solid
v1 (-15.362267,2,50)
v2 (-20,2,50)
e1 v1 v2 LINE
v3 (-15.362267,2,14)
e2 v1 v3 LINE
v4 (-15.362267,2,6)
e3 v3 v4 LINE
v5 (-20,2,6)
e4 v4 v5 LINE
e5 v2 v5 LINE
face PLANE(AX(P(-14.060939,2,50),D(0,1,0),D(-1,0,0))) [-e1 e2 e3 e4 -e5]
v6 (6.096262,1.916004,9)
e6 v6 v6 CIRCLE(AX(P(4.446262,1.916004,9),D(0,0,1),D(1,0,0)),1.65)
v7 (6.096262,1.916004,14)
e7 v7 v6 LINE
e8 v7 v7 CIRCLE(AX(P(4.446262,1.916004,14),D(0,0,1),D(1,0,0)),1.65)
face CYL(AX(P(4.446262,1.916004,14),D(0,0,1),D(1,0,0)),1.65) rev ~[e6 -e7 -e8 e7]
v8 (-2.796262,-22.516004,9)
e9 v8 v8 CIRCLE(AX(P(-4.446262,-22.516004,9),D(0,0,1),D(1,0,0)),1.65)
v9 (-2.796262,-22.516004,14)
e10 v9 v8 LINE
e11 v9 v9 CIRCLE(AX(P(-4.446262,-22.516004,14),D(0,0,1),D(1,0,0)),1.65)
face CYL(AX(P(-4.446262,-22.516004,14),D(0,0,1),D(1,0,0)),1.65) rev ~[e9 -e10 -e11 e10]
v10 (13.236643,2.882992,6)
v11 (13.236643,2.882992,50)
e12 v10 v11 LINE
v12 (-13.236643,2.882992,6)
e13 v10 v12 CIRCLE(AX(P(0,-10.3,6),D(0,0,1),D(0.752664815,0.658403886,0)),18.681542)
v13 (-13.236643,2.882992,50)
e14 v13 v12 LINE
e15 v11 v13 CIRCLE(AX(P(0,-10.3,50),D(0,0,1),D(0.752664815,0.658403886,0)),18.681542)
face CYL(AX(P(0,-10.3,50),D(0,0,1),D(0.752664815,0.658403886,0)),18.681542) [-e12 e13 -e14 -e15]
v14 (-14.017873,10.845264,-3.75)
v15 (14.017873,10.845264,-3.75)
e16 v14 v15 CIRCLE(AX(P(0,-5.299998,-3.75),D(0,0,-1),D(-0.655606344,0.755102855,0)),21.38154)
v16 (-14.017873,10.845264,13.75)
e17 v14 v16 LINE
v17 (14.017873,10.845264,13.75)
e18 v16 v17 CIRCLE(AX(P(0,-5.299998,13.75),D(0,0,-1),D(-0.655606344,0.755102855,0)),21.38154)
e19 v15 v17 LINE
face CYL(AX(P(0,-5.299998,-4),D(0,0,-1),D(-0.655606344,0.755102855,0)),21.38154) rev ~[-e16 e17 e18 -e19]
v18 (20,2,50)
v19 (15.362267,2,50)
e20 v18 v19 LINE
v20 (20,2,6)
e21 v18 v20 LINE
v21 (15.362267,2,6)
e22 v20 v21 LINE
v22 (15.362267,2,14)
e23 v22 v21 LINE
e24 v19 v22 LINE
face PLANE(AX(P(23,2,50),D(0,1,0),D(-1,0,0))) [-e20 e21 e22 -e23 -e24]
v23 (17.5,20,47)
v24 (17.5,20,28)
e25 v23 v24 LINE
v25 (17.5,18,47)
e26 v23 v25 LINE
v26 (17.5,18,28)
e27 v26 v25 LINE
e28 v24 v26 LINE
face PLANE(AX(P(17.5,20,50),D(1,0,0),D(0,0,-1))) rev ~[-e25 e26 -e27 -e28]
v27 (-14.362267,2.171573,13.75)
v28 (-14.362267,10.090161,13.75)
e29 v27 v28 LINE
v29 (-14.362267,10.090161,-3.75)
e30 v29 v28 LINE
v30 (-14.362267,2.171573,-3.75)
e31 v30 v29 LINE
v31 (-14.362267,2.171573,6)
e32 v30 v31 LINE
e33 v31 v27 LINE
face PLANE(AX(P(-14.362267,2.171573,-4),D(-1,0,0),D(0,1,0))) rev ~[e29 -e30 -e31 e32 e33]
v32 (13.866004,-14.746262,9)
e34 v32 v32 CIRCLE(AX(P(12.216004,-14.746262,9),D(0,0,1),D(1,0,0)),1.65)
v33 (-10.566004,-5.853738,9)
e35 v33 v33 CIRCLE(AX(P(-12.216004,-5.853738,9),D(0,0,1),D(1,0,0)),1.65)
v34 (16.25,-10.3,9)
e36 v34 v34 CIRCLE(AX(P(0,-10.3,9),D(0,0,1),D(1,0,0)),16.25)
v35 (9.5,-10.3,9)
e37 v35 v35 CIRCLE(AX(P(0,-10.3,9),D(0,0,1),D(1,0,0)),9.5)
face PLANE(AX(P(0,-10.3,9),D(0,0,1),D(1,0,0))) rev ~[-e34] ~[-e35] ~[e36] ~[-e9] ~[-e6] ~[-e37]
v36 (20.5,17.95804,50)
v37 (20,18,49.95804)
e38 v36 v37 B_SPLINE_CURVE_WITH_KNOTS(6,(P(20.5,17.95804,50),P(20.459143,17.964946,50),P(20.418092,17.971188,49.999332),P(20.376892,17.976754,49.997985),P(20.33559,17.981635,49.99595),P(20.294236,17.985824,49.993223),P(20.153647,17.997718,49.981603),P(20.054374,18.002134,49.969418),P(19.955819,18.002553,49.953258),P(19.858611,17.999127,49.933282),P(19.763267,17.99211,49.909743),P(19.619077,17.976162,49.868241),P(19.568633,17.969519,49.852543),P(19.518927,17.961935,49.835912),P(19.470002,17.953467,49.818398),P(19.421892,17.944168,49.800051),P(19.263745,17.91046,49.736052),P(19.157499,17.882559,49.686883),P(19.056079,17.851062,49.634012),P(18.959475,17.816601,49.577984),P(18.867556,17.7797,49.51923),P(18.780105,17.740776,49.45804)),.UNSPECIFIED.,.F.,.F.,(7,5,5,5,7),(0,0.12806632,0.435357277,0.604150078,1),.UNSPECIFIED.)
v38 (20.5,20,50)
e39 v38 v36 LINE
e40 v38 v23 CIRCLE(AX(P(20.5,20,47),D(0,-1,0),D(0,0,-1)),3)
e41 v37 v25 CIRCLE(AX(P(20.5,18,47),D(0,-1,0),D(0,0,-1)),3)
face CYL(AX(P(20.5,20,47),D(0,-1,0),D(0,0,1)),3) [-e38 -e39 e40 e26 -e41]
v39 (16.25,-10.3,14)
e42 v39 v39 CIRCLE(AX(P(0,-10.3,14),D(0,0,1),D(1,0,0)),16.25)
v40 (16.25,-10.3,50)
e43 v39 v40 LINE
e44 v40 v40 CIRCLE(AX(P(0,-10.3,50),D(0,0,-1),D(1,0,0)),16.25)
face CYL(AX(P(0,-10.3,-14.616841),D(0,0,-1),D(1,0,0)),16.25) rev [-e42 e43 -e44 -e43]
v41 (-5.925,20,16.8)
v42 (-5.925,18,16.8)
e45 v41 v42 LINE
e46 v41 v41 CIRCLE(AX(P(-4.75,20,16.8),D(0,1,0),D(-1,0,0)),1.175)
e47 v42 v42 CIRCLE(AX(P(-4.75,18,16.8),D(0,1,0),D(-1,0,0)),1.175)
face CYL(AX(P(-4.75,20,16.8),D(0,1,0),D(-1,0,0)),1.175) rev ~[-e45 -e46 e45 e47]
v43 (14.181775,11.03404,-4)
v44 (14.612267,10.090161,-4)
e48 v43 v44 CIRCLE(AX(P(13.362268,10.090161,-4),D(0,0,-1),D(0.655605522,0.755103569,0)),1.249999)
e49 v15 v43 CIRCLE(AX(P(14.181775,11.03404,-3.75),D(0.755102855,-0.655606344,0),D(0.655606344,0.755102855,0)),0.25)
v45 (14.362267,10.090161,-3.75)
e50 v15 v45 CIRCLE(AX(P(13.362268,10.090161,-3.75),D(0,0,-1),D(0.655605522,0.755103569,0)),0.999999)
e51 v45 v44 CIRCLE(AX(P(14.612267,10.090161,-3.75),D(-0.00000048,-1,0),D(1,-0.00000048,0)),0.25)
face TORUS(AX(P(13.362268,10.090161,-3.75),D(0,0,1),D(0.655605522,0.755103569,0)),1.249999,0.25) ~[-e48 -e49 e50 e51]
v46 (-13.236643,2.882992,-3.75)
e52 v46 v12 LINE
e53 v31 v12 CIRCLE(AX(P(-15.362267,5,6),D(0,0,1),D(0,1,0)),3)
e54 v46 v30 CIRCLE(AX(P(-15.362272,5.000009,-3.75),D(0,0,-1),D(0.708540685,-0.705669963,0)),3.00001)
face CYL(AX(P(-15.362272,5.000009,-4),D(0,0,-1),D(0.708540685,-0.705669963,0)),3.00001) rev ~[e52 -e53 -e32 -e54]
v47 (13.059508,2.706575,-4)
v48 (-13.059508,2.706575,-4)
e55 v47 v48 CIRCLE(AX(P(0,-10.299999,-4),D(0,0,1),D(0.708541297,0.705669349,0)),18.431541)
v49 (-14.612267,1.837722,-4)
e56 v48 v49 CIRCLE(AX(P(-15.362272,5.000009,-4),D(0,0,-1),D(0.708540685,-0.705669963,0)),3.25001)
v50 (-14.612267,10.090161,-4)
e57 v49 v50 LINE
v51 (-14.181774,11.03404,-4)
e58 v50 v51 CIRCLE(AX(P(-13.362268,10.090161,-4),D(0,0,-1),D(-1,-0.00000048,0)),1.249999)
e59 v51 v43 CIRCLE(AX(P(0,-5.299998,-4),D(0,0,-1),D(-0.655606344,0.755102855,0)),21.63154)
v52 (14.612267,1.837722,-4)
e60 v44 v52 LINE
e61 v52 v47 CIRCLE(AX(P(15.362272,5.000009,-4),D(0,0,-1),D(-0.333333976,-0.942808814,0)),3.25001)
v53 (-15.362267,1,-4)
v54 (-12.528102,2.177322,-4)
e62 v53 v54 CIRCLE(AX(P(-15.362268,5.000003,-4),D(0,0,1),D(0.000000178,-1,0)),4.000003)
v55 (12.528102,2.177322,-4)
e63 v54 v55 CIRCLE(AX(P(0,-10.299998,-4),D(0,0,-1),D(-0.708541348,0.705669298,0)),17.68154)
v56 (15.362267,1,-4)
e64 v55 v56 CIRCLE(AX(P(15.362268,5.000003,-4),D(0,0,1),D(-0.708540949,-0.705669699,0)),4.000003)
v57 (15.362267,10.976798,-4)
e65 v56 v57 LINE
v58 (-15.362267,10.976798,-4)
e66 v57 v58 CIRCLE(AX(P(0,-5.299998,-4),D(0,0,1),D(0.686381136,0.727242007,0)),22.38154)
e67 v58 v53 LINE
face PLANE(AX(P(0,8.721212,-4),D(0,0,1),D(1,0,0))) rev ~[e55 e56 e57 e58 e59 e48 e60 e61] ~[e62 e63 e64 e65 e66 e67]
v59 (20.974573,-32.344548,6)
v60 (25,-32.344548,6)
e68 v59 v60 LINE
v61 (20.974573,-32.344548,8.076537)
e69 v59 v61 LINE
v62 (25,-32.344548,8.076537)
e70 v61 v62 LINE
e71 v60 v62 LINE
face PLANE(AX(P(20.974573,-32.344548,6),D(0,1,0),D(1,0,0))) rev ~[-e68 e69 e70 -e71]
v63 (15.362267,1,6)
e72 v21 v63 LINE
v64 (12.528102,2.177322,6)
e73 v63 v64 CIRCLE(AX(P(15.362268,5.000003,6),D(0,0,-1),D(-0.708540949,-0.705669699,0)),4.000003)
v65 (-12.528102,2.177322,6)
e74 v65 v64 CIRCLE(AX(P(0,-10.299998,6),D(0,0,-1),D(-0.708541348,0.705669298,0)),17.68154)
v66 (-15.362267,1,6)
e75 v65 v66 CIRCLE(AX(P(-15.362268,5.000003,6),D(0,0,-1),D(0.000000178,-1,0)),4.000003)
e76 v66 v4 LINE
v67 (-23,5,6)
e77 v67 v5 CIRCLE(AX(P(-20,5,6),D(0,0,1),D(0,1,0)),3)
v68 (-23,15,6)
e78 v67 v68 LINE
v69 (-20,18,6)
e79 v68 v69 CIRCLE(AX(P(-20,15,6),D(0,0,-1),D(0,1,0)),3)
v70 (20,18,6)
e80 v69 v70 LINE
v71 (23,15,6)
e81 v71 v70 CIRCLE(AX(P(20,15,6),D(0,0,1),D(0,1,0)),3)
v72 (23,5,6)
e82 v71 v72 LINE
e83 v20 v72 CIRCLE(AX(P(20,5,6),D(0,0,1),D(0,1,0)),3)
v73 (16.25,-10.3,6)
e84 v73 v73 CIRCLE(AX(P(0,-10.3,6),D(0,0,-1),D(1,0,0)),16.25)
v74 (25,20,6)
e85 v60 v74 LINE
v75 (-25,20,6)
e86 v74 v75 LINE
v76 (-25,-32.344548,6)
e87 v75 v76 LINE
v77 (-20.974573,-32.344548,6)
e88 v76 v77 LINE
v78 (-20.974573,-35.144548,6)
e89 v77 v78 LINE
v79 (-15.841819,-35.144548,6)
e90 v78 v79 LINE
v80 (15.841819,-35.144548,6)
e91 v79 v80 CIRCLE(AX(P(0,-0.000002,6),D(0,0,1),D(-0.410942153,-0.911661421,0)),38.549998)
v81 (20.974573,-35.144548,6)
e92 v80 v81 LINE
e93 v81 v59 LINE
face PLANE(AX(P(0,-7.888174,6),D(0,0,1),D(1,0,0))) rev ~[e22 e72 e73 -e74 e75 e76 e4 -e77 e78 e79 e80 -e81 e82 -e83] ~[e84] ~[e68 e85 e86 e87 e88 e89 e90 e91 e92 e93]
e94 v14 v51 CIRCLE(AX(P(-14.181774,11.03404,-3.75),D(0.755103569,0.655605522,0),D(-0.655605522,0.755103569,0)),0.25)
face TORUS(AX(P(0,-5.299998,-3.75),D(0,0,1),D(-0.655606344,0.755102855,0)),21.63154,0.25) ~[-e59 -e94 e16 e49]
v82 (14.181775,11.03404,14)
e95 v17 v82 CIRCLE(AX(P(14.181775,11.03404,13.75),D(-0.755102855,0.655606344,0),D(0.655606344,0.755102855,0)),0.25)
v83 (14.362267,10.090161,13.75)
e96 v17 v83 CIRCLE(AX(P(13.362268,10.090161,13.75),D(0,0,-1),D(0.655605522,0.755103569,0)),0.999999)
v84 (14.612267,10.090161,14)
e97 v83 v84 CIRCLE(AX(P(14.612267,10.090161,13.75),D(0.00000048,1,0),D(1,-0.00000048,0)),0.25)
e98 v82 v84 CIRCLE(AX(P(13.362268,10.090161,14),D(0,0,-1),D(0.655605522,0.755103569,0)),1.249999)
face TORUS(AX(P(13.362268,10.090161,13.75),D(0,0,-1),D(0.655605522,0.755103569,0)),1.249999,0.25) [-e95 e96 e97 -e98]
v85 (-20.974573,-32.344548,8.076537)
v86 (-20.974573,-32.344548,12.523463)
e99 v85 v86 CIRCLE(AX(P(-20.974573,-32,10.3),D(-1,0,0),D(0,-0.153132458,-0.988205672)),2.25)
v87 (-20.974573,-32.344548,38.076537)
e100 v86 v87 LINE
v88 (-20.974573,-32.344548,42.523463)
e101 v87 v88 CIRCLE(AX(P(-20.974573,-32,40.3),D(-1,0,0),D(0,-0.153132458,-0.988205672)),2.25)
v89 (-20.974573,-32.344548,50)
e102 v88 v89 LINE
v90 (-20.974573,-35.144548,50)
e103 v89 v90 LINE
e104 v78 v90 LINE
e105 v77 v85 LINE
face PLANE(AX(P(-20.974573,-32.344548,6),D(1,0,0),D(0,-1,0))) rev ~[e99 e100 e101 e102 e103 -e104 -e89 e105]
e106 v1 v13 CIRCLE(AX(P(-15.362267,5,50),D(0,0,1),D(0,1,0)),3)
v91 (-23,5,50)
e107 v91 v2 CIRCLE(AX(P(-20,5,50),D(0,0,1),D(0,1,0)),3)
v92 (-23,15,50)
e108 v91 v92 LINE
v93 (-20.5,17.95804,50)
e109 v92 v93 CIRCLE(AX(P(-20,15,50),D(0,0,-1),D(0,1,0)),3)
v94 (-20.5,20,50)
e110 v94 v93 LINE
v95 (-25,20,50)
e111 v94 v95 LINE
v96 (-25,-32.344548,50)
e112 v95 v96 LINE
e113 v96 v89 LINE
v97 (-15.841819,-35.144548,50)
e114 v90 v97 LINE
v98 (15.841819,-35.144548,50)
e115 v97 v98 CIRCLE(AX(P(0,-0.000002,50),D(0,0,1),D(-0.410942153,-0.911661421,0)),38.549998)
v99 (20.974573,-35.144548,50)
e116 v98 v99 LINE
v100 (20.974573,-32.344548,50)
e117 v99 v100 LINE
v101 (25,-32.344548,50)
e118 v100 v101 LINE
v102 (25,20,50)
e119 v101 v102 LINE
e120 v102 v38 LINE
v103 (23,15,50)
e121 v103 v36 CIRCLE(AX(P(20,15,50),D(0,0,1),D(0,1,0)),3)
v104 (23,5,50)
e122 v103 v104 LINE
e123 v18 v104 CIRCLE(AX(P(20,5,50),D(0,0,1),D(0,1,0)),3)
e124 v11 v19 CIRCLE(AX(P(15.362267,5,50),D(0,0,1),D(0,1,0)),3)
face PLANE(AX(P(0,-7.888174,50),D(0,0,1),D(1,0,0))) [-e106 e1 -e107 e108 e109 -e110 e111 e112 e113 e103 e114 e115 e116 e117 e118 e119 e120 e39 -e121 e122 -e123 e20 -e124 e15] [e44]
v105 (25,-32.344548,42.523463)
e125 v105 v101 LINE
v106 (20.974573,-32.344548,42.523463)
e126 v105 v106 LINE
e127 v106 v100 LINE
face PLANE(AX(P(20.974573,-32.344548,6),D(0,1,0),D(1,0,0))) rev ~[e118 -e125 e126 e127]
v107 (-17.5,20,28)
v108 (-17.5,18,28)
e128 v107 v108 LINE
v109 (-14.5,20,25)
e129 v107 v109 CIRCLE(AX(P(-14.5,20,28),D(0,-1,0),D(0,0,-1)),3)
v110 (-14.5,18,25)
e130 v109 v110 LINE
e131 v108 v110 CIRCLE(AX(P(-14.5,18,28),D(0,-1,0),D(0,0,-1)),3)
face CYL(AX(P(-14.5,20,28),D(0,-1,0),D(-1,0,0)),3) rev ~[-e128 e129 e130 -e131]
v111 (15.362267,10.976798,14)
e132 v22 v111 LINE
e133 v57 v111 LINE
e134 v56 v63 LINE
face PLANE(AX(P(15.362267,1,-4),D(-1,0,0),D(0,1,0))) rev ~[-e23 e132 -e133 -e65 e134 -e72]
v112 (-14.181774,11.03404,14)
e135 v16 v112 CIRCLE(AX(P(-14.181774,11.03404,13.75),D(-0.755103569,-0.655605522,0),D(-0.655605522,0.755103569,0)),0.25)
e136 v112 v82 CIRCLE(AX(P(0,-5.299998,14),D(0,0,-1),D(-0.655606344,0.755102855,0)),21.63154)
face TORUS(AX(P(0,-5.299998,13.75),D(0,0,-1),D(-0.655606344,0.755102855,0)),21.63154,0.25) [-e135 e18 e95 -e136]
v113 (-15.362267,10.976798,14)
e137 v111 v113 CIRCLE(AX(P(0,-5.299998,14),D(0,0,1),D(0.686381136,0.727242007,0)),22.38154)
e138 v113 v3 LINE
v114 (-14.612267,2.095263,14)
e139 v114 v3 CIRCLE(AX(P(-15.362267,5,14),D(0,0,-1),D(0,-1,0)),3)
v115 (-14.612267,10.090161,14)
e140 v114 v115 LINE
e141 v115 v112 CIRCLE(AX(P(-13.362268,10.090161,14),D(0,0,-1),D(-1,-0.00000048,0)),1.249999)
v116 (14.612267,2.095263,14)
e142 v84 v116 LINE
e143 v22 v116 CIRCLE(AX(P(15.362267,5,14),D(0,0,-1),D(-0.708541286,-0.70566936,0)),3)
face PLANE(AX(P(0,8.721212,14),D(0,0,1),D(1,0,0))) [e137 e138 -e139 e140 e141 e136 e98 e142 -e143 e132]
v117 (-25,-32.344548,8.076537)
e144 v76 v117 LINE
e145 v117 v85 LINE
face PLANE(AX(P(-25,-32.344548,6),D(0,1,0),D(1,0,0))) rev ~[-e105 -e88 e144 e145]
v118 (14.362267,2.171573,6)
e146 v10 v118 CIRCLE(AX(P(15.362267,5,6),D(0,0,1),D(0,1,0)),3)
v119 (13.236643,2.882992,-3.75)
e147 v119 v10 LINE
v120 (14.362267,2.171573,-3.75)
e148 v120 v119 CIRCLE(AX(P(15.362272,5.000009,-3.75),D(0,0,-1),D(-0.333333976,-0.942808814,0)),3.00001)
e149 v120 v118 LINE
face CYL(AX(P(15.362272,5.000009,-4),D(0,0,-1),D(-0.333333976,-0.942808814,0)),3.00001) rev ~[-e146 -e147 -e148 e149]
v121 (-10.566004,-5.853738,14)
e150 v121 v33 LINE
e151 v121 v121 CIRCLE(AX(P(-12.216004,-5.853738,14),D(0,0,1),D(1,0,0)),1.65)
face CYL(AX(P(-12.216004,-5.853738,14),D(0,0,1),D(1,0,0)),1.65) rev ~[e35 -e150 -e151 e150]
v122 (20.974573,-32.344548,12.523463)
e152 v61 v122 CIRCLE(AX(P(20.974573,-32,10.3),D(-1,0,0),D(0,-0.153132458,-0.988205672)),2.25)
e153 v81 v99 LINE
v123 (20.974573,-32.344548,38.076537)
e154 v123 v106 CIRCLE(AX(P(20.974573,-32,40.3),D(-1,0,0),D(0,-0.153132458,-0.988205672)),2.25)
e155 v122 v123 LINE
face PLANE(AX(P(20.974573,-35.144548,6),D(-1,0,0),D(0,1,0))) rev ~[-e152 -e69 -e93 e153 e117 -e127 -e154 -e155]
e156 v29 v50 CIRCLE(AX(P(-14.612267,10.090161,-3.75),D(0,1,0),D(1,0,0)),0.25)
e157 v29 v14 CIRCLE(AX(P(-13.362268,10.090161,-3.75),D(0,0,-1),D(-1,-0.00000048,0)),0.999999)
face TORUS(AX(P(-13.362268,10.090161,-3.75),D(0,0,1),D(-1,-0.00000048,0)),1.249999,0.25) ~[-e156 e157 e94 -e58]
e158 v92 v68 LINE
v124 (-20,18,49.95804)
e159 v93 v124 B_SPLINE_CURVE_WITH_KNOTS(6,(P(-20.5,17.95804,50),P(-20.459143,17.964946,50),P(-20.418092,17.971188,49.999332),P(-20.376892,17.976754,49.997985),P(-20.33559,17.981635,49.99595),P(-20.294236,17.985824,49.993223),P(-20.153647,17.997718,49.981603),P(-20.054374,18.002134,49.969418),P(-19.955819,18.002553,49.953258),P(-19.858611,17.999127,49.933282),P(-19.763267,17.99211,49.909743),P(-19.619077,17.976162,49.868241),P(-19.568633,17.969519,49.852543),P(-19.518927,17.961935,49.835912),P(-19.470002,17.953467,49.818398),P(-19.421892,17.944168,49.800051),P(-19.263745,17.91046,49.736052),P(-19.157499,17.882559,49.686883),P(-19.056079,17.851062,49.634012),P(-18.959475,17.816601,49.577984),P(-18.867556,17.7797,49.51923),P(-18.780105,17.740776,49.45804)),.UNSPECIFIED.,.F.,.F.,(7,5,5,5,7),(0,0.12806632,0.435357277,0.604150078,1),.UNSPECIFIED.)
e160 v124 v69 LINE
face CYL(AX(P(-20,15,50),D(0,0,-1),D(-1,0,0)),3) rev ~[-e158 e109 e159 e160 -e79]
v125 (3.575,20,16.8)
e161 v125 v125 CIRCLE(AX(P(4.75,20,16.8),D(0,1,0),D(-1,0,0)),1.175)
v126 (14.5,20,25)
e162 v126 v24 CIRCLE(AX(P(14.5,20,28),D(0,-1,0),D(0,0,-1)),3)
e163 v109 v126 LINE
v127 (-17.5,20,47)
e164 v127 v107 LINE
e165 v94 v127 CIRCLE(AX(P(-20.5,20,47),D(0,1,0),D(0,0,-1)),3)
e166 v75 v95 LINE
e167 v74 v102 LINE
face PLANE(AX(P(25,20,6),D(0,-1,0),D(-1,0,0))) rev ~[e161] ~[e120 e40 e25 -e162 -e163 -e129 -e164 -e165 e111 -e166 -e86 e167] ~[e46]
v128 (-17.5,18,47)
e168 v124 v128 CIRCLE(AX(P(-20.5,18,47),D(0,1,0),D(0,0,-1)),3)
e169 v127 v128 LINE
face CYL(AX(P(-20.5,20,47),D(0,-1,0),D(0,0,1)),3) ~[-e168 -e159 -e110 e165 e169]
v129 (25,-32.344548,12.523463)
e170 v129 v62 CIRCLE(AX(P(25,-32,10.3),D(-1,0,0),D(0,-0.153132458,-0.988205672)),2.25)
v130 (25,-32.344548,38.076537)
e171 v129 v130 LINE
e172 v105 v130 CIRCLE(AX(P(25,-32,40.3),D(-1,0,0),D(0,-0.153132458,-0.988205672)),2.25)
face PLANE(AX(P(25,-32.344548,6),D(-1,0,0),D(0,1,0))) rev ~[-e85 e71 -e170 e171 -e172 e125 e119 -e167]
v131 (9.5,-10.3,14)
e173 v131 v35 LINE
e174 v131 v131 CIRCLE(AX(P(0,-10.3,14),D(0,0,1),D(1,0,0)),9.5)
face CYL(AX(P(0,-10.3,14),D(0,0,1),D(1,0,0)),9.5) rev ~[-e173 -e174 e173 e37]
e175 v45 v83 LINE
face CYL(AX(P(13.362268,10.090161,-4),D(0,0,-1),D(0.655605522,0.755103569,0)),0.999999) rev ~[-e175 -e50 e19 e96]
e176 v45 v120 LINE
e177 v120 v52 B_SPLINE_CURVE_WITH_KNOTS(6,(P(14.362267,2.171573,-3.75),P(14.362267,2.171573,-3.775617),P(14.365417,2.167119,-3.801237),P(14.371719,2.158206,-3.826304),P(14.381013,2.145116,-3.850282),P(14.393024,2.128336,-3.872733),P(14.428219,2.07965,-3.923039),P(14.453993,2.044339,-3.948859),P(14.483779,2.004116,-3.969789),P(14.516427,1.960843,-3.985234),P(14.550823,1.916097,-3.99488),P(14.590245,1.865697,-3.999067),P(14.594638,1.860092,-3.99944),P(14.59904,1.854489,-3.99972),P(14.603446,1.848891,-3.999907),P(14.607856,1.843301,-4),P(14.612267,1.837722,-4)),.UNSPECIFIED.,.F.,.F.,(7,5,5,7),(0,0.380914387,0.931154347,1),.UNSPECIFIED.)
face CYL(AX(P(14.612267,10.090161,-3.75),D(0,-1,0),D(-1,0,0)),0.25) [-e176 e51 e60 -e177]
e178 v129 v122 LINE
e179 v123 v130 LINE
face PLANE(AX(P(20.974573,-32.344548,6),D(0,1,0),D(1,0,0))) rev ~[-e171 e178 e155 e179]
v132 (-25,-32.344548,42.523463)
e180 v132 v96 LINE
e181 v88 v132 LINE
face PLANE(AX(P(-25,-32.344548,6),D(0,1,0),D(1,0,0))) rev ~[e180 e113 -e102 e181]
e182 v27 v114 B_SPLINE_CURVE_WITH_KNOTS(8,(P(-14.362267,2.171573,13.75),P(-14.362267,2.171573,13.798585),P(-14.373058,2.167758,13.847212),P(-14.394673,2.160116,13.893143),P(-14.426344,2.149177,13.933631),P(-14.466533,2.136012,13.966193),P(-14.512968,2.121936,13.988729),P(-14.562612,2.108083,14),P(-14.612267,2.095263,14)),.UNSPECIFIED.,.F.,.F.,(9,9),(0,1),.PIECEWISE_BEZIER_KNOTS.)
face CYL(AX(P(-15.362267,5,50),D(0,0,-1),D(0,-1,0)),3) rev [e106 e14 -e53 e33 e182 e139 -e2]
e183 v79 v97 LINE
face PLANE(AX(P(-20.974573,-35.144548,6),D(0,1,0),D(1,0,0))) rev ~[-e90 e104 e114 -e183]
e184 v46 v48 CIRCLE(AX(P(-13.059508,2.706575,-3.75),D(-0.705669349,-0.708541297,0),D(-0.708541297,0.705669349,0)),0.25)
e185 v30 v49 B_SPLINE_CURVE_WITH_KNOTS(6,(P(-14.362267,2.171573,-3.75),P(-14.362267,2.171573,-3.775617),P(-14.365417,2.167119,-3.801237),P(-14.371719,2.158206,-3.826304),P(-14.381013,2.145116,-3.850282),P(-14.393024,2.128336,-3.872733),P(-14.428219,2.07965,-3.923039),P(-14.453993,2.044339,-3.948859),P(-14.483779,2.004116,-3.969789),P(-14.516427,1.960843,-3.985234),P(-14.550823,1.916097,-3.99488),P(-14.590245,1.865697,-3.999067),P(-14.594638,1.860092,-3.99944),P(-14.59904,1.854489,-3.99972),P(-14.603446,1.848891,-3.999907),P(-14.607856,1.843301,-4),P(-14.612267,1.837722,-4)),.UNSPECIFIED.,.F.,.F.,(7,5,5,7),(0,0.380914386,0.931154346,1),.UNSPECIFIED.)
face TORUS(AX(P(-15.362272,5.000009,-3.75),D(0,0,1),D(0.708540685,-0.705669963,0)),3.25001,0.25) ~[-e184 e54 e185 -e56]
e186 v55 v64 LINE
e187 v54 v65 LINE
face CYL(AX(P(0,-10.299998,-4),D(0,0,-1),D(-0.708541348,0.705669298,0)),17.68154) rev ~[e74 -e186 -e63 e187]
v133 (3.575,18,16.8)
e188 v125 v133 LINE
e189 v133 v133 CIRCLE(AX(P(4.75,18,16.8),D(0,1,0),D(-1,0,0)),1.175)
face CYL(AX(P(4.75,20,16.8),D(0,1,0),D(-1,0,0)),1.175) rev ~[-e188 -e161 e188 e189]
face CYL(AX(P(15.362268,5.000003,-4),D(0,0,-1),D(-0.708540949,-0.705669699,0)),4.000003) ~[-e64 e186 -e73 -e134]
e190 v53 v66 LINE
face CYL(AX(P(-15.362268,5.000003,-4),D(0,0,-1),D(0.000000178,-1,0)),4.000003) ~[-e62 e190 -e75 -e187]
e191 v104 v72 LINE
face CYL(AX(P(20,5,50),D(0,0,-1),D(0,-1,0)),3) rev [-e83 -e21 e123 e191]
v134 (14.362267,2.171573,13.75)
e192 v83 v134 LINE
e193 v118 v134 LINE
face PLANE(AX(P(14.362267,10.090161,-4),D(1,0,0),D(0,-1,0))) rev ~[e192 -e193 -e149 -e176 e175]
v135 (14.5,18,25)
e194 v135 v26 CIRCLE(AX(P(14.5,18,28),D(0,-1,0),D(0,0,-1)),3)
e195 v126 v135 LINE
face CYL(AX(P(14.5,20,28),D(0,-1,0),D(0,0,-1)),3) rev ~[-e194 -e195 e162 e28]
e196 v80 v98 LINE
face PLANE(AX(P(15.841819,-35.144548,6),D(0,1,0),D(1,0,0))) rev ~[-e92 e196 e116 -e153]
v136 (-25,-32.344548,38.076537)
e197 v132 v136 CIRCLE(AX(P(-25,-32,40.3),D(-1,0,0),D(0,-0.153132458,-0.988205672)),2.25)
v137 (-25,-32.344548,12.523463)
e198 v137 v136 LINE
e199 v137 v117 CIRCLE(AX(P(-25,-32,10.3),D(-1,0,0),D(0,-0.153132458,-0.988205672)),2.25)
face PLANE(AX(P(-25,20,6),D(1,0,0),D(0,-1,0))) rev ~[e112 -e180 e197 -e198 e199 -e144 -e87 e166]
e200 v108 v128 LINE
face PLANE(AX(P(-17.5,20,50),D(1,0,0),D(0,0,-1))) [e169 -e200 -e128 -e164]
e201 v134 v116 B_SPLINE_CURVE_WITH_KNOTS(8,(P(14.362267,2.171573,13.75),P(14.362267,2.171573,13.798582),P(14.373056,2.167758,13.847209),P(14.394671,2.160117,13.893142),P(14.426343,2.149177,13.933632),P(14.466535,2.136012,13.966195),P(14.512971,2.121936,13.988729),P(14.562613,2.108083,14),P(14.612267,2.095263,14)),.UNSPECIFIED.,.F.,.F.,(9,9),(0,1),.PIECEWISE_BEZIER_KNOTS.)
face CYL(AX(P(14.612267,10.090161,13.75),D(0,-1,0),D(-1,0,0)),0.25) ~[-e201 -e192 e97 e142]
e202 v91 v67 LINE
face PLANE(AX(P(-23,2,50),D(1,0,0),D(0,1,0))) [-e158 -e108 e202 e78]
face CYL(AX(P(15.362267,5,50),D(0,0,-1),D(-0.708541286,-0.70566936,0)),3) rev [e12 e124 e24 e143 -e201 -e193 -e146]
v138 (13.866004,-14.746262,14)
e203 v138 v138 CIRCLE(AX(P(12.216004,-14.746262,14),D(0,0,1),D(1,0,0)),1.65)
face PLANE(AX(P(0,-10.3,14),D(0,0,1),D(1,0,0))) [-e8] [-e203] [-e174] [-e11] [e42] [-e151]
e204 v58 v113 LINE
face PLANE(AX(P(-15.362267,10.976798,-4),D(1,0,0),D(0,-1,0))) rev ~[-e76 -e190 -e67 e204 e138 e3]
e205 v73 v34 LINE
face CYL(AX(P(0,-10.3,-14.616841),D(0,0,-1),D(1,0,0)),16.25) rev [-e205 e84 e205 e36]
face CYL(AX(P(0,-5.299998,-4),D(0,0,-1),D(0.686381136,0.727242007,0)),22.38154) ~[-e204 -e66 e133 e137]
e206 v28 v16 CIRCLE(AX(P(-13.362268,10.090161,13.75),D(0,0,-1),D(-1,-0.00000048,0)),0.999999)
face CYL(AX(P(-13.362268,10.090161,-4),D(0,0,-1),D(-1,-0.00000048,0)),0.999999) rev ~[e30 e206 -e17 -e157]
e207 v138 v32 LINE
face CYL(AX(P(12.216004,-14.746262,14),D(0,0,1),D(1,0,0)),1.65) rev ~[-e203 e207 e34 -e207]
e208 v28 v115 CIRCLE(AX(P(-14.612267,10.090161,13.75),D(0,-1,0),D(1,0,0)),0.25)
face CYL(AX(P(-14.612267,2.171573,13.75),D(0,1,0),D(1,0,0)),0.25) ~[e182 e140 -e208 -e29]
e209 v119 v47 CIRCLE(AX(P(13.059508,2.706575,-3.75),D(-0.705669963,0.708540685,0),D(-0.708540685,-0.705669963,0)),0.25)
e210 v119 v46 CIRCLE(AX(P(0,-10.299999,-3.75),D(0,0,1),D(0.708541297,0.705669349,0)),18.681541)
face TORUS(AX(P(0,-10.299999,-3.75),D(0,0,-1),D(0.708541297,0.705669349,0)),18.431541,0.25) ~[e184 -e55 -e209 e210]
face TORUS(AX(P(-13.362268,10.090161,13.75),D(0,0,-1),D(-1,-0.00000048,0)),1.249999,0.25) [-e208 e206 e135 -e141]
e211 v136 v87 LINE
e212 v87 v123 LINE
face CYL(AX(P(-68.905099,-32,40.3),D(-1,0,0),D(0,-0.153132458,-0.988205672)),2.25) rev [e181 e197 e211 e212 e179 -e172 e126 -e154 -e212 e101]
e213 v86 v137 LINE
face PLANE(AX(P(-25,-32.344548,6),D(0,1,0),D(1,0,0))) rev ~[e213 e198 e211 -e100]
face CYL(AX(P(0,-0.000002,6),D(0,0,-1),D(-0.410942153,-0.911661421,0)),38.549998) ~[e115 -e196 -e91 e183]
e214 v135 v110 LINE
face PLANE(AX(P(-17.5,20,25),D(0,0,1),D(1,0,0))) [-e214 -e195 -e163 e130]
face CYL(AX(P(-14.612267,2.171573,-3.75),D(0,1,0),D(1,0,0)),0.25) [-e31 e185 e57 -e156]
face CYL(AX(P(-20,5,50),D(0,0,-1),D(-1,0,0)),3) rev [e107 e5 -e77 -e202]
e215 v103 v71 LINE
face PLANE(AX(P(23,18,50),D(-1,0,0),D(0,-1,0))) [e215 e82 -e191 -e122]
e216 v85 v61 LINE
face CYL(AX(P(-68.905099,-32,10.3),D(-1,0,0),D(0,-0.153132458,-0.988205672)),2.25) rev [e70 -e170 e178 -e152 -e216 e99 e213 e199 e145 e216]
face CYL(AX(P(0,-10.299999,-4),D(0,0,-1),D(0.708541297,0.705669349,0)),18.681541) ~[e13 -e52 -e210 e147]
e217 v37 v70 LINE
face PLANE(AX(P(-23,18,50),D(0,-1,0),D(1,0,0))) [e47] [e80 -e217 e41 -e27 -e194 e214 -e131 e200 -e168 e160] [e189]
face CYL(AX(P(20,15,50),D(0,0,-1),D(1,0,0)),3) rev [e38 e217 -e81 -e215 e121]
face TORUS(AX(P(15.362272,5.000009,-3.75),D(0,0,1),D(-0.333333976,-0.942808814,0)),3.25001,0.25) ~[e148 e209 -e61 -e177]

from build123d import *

# Parameters (mm, degrees)
BOSS_EXTRUDE2_START      = 6
BOSS_EXTRUDE2_DEPTH      = 44
CUT_EXTRUDE1_DEPTH       = 64.616841
CUT_EXTRUDE1_DEPTH_BACK  = 64.616841
SKETCH2_R                = 16.25
CUT_EXTRUDE3_DEPTH       = 64.616841
FILLET1_R                = 3
SKETCH5_W                = 35
SKETCH5_H                = 25
CUT_EXTRUDE4_DEPTH       = 10
FILLET2_R                = 3
SKETCH6_R                = 16.25
SKETCH6_R_2              = 9.5
SKETCH6_R_3              = 1.65
BOSS_EXTRUDE3_DEPTH      = 5
CUT_EXTRUDE5_DEPTH       = 68.905099
CUT_EXTRUDE5_DEPTH_BACK  = 68.905099
SKETCH7_R                = 2.25
CUT_EXTRUDE6_REACH       = 82.951
SKETCH8_R                = 1.175
BOSS_EXTRUDE4_DEPTH      = 8
BOSS_EXTRUDE4_DEPTH_BACK = 10
BOSS_EXTRUDE4_START      = -44
FILLET5_R                = 0.25
FILLET6_R                = 0.25


with BuildPart() as part:
    # Sketch1 → Boss-Extrude2 (new body)
    with BuildSketch(Plane.XY.offset(BOSS_EXTRUDE2_START)):
        with BuildLine():
            Line((-25, 0), (-25, -29.344548))
            Line((-25, -29.344548), (-25, -32.344548))
            Line((-25, -32.344548), (-20.974573, -32.344548))
            Line((-20.974573, -32.344548), (-20.974573, -35.144548))
            Line((-20.974573, -35.144548), (-15.841819, -35.144548))
            ThreePointArc((-15.841819, -35.144548), (0, -38.55), (15.841819, -35.144548))
            Line((15.841819, -35.144548), (20.974573, -35.144548))
            Line((20.974573, -35.144548), (20.974573, -32.344548))
            Line((20.974573, -32.344548), (25, -32.344548))
            Line((25, -32.344548), (25, -29.344548))
            Line((25, -29.344548), (25, 0))
            Line((25, 0), (25, 20))
            Line((25, 20), (-25, 20))
            Line((-25, 20), (-25, 0))
        make_face()
    extrude(amount=BOSS_EXTRUDE2_DEPTH)

    # Sketch2 → Cut-Extrude1 (cut, two sides: drawn at the far end of the back side and taken through both)
    with BuildSketch(Plane.XY.offset(50).offset(-CUT_EXTRUDE1_DEPTH_BACK)):
        with Locations((0, -10.3)):
            Circle(SKETCH2_R)
    extrude(amount=CUT_EXTRUDE1_DEPTH + CUT_EXTRUDE1_DEPTH_BACK, mode=Mode.SUBTRACT)

    # Sketch4 → Cut-Extrude3 (cut, through all)
    with BuildSketch(Plane.XY.offset(50)):
        with BuildLine():
            Line((-23, 18), (23, 18))
            Line((23, 18), (23, 2))
            Line((23, 2), (14.060939, 2))
            ThreePointArc((14.060939, 2), (0, 8.381542), (-14.060939, 2))
            Line((-14.060939, 2), (-23, 2))
            Line((-23, 2), (-23, 18))
        make_face()
    extrude(amount=-CUT_EXTRUDE3_DEPTH, mode=Mode.SUBTRACT)

    # Fillet1
    fillet1_edges = [part.edges().sort_by_distance(p)[0] for p in [
        (23, 18, 28),
        (23, 2, 28),
        (14.060939, 2, 28),
        (-14.060939, 2, 28),
        (-23, 2, 28),
        (-23, 18, 28),
    ]]
    fillet(fillet1_edges, radius=FILLET1_R)

    # Sketch5 → Cut-Extrude4 (cut)
    with BuildSketch(Plane(origin=(0, 20, 0), x_dir=(1, 0, 0), z_dir=(0, 1, 0))):
        with Locations((0, -37.5)):
            Rectangle(SKETCH5_W, SKETCH5_H)
    extrude(amount=-CUT_EXTRUDE4_DEPTH, mode=Mode.SUBTRACT)

    # Fillet2
    fillet2_edges = [part.edges().sort_by_distance(p)[0] for p in [
        (17.5, 19, 50),
        (17.5, 19, 25),
        (-17.5, 19, 25),
        (-17.5, 19, 50),
    ]]
    fillet(fillet2_edges, radius=FILLET2_R)

    # Sketch6 → Boss-Extrude3 (add)
    with BuildSketch(Plane.XY.offset(14)):
        with Locations((0, -10.3)):
            Circle(SKETCH6_R)
        with Locations((0, -10.3)):
            Circle(SKETCH6_R_2, mode=Mode.SUBTRACT)
        with Locations((4.446262, 1.916004)):
            Circle(SKETCH6_R_3, mode=Mode.SUBTRACT)
        with Locations((12.216004, -14.746262)):
            Circle(SKETCH6_R_3, mode=Mode.SUBTRACT)
        with Locations((-4.446262, -22.516004)):
            Circle(SKETCH6_R_3, mode=Mode.SUBTRACT)
        with Locations((-12.216004, -5.853738)):
            Circle(SKETCH6_R_3, mode=Mode.SUBTRACT)
    extrude(amount=-BOSS_EXTRUDE3_DEPTH)

    # Sketch7 → Cut-Extrude5 (cut, two sides: drawn at the far end of the back side and taken through both)
    with BuildSketch(Plane(origin=(0, 0, 0), x_dir=(0, 0, -1), z_dir=(1, 0, 0)).offset(-CUT_EXTRUDE5_DEPTH_BACK)):
        with Locations(Location((-40.3, -32, 0), (0, 0, 351.191499))):
            Circle(SKETCH7_R)
        with Locations(Location((-10.3, -32, 0), (0, 0, 351.191499))):
            Circle(SKETCH7_R)
    extrude(amount=CUT_EXTRUDE5_DEPTH + CUT_EXTRUDE5_DEPTH_BACK, mode=Mode.SUBTRACT)

    # Sketch8 → Cut-Extrude6 (cut, up to next)
    with BuildSketch(Plane(origin=(0, 20, 0), x_dir=(1, 0, 0), z_dir=(0, 1, 0)), mode=Mode.PRIVATE) as cut_extrude6_sk1:
        with Locations(Location((-4.75, -16.8, 0), (0, 0, 180))):
            Circle(SKETCH8_R)
    cut_extrude6_tool1 = extrude(cut_extrude6_sk1.sketch, amount=-CUT_EXTRUDE6_REACH, mode=Mode.PRIVATE) & part.part
    # Sketch8 → Cut-Extrude6 (cut, up to next)
    with BuildSketch(Plane(origin=(0, 20, 0), x_dir=(1, 0, 0), z_dir=(0, 1, 0)), mode=Mode.PRIVATE) as cut_extrude6_sk2:
        with Locations(Location((4.75, -16.8, 0), (0, 0, 180))):
            Circle(SKETCH8_R)
    cut_extrude6_tool2 = extrude(cut_extrude6_sk2.sketch, amount=-CUT_EXTRUDE6_REACH, mode=Mode.PRIVATE) & part.part
    add(cut_extrude6_tool1.solids().sort_by_distance((-4.75, 20, 16.8))[0], mode=Mode.SUBTRACT)
    add(cut_extrude6_tool2.solids().sort_by_distance((4.75, 20, 16.8))[0], mode=Mode.SUBTRACT)

    # Sketch9 → Boss-Extrude4 (add, two sides: drawn at the far end of the back side and taken through both)
    with BuildSketch(Plane.XY.offset(50).offset(BOSS_EXTRUDE4_START - BOSS_EXTRUDE4_DEPTH_BACK)):
        with BuildLine():
            Line((15.362267, 1), (15.362267, 10.976798))
            ThreePointArc((15.362267, 10.976798), (0, 17.081542), (-15.362267, 10.976798))
            Line((-15.362267, 10.976798), (-15.362267, 1))
            ThreePointArc((-15.362267, 1), (-13.827782, 1.306038), (-12.528102, 2.177322))
            ThreePointArc((-12.528102, 2.177322), (0, 7.381542), (12.528102, 2.177322))
            ThreePointArc((12.528102, 2.177322), (13.827782, 1.306038), (15.362267, 1))
        make_face()
        with BuildLine():
            ThreePointArc((-13.236643, 2.882992), (-13.759485, 2.464041), (-14.362267, 2.171573))
            Line((-14.362267, 2.171573), (-14.362267, 10.090161))
            ThreePointArc((-14.362267, 10.090161), (-14.272104, 10.505127), (-14.017873, 10.845264))
            ThreePointArc((-14.017873, 10.845264), (0, 16.081542), (14.017873, 10.845264))
            ThreePointArc((14.017873, 10.845264), (14.272104, 10.505127), (14.362267, 10.090161))
            Line((14.362267, 10.090161), (14.362267, 2.171573))
            ThreePointArc((14.362267, 2.171573), (13.759485, 2.464041), (13.236643, 2.882992))
            ThreePointArc((13.236643, 2.882992), (0, 8.381542), (-13.236643, 2.882992))
        make_face(mode=Mode.SUBTRACT)
    extrude(amount=BOSS_EXTRUDE4_DEPTH + BOSS_EXTRUDE4_DEPTH_BACK)

    # Fillet5
    fillet5_edges = [part.edges().sort_by_distance(p)[0] for p in [
        (0, 8.381542, -4),
        (14.272104, 10.505127, -4),
        (0, 16.081542, -4),
        (-14.272104, 10.505127, -4),
        (-13.759485, 2.464041, -4),
        (13.759485, 2.464041, -4),
        (14.362267, 6.130867, -4),
        (-14.362267, 6.130867, -4),
    ]]
    fillet(fillet5_edges, radius=FILLET5_R)

    # Fillet6
    fillet6_edges = [part.edges().sort_by_distance(p)[0] for p in [
        (-14.362267, 6.130867, 14),
        (0, 16.081542, 14),
        (14.272104, 10.505127, 14),
        (14.362267, 6.130867, 14),
        (-14.272104, 10.505127, 14),
    ]]
    fillet(fillet6_edges, radius=FILLET6_R)


solid = part.part
